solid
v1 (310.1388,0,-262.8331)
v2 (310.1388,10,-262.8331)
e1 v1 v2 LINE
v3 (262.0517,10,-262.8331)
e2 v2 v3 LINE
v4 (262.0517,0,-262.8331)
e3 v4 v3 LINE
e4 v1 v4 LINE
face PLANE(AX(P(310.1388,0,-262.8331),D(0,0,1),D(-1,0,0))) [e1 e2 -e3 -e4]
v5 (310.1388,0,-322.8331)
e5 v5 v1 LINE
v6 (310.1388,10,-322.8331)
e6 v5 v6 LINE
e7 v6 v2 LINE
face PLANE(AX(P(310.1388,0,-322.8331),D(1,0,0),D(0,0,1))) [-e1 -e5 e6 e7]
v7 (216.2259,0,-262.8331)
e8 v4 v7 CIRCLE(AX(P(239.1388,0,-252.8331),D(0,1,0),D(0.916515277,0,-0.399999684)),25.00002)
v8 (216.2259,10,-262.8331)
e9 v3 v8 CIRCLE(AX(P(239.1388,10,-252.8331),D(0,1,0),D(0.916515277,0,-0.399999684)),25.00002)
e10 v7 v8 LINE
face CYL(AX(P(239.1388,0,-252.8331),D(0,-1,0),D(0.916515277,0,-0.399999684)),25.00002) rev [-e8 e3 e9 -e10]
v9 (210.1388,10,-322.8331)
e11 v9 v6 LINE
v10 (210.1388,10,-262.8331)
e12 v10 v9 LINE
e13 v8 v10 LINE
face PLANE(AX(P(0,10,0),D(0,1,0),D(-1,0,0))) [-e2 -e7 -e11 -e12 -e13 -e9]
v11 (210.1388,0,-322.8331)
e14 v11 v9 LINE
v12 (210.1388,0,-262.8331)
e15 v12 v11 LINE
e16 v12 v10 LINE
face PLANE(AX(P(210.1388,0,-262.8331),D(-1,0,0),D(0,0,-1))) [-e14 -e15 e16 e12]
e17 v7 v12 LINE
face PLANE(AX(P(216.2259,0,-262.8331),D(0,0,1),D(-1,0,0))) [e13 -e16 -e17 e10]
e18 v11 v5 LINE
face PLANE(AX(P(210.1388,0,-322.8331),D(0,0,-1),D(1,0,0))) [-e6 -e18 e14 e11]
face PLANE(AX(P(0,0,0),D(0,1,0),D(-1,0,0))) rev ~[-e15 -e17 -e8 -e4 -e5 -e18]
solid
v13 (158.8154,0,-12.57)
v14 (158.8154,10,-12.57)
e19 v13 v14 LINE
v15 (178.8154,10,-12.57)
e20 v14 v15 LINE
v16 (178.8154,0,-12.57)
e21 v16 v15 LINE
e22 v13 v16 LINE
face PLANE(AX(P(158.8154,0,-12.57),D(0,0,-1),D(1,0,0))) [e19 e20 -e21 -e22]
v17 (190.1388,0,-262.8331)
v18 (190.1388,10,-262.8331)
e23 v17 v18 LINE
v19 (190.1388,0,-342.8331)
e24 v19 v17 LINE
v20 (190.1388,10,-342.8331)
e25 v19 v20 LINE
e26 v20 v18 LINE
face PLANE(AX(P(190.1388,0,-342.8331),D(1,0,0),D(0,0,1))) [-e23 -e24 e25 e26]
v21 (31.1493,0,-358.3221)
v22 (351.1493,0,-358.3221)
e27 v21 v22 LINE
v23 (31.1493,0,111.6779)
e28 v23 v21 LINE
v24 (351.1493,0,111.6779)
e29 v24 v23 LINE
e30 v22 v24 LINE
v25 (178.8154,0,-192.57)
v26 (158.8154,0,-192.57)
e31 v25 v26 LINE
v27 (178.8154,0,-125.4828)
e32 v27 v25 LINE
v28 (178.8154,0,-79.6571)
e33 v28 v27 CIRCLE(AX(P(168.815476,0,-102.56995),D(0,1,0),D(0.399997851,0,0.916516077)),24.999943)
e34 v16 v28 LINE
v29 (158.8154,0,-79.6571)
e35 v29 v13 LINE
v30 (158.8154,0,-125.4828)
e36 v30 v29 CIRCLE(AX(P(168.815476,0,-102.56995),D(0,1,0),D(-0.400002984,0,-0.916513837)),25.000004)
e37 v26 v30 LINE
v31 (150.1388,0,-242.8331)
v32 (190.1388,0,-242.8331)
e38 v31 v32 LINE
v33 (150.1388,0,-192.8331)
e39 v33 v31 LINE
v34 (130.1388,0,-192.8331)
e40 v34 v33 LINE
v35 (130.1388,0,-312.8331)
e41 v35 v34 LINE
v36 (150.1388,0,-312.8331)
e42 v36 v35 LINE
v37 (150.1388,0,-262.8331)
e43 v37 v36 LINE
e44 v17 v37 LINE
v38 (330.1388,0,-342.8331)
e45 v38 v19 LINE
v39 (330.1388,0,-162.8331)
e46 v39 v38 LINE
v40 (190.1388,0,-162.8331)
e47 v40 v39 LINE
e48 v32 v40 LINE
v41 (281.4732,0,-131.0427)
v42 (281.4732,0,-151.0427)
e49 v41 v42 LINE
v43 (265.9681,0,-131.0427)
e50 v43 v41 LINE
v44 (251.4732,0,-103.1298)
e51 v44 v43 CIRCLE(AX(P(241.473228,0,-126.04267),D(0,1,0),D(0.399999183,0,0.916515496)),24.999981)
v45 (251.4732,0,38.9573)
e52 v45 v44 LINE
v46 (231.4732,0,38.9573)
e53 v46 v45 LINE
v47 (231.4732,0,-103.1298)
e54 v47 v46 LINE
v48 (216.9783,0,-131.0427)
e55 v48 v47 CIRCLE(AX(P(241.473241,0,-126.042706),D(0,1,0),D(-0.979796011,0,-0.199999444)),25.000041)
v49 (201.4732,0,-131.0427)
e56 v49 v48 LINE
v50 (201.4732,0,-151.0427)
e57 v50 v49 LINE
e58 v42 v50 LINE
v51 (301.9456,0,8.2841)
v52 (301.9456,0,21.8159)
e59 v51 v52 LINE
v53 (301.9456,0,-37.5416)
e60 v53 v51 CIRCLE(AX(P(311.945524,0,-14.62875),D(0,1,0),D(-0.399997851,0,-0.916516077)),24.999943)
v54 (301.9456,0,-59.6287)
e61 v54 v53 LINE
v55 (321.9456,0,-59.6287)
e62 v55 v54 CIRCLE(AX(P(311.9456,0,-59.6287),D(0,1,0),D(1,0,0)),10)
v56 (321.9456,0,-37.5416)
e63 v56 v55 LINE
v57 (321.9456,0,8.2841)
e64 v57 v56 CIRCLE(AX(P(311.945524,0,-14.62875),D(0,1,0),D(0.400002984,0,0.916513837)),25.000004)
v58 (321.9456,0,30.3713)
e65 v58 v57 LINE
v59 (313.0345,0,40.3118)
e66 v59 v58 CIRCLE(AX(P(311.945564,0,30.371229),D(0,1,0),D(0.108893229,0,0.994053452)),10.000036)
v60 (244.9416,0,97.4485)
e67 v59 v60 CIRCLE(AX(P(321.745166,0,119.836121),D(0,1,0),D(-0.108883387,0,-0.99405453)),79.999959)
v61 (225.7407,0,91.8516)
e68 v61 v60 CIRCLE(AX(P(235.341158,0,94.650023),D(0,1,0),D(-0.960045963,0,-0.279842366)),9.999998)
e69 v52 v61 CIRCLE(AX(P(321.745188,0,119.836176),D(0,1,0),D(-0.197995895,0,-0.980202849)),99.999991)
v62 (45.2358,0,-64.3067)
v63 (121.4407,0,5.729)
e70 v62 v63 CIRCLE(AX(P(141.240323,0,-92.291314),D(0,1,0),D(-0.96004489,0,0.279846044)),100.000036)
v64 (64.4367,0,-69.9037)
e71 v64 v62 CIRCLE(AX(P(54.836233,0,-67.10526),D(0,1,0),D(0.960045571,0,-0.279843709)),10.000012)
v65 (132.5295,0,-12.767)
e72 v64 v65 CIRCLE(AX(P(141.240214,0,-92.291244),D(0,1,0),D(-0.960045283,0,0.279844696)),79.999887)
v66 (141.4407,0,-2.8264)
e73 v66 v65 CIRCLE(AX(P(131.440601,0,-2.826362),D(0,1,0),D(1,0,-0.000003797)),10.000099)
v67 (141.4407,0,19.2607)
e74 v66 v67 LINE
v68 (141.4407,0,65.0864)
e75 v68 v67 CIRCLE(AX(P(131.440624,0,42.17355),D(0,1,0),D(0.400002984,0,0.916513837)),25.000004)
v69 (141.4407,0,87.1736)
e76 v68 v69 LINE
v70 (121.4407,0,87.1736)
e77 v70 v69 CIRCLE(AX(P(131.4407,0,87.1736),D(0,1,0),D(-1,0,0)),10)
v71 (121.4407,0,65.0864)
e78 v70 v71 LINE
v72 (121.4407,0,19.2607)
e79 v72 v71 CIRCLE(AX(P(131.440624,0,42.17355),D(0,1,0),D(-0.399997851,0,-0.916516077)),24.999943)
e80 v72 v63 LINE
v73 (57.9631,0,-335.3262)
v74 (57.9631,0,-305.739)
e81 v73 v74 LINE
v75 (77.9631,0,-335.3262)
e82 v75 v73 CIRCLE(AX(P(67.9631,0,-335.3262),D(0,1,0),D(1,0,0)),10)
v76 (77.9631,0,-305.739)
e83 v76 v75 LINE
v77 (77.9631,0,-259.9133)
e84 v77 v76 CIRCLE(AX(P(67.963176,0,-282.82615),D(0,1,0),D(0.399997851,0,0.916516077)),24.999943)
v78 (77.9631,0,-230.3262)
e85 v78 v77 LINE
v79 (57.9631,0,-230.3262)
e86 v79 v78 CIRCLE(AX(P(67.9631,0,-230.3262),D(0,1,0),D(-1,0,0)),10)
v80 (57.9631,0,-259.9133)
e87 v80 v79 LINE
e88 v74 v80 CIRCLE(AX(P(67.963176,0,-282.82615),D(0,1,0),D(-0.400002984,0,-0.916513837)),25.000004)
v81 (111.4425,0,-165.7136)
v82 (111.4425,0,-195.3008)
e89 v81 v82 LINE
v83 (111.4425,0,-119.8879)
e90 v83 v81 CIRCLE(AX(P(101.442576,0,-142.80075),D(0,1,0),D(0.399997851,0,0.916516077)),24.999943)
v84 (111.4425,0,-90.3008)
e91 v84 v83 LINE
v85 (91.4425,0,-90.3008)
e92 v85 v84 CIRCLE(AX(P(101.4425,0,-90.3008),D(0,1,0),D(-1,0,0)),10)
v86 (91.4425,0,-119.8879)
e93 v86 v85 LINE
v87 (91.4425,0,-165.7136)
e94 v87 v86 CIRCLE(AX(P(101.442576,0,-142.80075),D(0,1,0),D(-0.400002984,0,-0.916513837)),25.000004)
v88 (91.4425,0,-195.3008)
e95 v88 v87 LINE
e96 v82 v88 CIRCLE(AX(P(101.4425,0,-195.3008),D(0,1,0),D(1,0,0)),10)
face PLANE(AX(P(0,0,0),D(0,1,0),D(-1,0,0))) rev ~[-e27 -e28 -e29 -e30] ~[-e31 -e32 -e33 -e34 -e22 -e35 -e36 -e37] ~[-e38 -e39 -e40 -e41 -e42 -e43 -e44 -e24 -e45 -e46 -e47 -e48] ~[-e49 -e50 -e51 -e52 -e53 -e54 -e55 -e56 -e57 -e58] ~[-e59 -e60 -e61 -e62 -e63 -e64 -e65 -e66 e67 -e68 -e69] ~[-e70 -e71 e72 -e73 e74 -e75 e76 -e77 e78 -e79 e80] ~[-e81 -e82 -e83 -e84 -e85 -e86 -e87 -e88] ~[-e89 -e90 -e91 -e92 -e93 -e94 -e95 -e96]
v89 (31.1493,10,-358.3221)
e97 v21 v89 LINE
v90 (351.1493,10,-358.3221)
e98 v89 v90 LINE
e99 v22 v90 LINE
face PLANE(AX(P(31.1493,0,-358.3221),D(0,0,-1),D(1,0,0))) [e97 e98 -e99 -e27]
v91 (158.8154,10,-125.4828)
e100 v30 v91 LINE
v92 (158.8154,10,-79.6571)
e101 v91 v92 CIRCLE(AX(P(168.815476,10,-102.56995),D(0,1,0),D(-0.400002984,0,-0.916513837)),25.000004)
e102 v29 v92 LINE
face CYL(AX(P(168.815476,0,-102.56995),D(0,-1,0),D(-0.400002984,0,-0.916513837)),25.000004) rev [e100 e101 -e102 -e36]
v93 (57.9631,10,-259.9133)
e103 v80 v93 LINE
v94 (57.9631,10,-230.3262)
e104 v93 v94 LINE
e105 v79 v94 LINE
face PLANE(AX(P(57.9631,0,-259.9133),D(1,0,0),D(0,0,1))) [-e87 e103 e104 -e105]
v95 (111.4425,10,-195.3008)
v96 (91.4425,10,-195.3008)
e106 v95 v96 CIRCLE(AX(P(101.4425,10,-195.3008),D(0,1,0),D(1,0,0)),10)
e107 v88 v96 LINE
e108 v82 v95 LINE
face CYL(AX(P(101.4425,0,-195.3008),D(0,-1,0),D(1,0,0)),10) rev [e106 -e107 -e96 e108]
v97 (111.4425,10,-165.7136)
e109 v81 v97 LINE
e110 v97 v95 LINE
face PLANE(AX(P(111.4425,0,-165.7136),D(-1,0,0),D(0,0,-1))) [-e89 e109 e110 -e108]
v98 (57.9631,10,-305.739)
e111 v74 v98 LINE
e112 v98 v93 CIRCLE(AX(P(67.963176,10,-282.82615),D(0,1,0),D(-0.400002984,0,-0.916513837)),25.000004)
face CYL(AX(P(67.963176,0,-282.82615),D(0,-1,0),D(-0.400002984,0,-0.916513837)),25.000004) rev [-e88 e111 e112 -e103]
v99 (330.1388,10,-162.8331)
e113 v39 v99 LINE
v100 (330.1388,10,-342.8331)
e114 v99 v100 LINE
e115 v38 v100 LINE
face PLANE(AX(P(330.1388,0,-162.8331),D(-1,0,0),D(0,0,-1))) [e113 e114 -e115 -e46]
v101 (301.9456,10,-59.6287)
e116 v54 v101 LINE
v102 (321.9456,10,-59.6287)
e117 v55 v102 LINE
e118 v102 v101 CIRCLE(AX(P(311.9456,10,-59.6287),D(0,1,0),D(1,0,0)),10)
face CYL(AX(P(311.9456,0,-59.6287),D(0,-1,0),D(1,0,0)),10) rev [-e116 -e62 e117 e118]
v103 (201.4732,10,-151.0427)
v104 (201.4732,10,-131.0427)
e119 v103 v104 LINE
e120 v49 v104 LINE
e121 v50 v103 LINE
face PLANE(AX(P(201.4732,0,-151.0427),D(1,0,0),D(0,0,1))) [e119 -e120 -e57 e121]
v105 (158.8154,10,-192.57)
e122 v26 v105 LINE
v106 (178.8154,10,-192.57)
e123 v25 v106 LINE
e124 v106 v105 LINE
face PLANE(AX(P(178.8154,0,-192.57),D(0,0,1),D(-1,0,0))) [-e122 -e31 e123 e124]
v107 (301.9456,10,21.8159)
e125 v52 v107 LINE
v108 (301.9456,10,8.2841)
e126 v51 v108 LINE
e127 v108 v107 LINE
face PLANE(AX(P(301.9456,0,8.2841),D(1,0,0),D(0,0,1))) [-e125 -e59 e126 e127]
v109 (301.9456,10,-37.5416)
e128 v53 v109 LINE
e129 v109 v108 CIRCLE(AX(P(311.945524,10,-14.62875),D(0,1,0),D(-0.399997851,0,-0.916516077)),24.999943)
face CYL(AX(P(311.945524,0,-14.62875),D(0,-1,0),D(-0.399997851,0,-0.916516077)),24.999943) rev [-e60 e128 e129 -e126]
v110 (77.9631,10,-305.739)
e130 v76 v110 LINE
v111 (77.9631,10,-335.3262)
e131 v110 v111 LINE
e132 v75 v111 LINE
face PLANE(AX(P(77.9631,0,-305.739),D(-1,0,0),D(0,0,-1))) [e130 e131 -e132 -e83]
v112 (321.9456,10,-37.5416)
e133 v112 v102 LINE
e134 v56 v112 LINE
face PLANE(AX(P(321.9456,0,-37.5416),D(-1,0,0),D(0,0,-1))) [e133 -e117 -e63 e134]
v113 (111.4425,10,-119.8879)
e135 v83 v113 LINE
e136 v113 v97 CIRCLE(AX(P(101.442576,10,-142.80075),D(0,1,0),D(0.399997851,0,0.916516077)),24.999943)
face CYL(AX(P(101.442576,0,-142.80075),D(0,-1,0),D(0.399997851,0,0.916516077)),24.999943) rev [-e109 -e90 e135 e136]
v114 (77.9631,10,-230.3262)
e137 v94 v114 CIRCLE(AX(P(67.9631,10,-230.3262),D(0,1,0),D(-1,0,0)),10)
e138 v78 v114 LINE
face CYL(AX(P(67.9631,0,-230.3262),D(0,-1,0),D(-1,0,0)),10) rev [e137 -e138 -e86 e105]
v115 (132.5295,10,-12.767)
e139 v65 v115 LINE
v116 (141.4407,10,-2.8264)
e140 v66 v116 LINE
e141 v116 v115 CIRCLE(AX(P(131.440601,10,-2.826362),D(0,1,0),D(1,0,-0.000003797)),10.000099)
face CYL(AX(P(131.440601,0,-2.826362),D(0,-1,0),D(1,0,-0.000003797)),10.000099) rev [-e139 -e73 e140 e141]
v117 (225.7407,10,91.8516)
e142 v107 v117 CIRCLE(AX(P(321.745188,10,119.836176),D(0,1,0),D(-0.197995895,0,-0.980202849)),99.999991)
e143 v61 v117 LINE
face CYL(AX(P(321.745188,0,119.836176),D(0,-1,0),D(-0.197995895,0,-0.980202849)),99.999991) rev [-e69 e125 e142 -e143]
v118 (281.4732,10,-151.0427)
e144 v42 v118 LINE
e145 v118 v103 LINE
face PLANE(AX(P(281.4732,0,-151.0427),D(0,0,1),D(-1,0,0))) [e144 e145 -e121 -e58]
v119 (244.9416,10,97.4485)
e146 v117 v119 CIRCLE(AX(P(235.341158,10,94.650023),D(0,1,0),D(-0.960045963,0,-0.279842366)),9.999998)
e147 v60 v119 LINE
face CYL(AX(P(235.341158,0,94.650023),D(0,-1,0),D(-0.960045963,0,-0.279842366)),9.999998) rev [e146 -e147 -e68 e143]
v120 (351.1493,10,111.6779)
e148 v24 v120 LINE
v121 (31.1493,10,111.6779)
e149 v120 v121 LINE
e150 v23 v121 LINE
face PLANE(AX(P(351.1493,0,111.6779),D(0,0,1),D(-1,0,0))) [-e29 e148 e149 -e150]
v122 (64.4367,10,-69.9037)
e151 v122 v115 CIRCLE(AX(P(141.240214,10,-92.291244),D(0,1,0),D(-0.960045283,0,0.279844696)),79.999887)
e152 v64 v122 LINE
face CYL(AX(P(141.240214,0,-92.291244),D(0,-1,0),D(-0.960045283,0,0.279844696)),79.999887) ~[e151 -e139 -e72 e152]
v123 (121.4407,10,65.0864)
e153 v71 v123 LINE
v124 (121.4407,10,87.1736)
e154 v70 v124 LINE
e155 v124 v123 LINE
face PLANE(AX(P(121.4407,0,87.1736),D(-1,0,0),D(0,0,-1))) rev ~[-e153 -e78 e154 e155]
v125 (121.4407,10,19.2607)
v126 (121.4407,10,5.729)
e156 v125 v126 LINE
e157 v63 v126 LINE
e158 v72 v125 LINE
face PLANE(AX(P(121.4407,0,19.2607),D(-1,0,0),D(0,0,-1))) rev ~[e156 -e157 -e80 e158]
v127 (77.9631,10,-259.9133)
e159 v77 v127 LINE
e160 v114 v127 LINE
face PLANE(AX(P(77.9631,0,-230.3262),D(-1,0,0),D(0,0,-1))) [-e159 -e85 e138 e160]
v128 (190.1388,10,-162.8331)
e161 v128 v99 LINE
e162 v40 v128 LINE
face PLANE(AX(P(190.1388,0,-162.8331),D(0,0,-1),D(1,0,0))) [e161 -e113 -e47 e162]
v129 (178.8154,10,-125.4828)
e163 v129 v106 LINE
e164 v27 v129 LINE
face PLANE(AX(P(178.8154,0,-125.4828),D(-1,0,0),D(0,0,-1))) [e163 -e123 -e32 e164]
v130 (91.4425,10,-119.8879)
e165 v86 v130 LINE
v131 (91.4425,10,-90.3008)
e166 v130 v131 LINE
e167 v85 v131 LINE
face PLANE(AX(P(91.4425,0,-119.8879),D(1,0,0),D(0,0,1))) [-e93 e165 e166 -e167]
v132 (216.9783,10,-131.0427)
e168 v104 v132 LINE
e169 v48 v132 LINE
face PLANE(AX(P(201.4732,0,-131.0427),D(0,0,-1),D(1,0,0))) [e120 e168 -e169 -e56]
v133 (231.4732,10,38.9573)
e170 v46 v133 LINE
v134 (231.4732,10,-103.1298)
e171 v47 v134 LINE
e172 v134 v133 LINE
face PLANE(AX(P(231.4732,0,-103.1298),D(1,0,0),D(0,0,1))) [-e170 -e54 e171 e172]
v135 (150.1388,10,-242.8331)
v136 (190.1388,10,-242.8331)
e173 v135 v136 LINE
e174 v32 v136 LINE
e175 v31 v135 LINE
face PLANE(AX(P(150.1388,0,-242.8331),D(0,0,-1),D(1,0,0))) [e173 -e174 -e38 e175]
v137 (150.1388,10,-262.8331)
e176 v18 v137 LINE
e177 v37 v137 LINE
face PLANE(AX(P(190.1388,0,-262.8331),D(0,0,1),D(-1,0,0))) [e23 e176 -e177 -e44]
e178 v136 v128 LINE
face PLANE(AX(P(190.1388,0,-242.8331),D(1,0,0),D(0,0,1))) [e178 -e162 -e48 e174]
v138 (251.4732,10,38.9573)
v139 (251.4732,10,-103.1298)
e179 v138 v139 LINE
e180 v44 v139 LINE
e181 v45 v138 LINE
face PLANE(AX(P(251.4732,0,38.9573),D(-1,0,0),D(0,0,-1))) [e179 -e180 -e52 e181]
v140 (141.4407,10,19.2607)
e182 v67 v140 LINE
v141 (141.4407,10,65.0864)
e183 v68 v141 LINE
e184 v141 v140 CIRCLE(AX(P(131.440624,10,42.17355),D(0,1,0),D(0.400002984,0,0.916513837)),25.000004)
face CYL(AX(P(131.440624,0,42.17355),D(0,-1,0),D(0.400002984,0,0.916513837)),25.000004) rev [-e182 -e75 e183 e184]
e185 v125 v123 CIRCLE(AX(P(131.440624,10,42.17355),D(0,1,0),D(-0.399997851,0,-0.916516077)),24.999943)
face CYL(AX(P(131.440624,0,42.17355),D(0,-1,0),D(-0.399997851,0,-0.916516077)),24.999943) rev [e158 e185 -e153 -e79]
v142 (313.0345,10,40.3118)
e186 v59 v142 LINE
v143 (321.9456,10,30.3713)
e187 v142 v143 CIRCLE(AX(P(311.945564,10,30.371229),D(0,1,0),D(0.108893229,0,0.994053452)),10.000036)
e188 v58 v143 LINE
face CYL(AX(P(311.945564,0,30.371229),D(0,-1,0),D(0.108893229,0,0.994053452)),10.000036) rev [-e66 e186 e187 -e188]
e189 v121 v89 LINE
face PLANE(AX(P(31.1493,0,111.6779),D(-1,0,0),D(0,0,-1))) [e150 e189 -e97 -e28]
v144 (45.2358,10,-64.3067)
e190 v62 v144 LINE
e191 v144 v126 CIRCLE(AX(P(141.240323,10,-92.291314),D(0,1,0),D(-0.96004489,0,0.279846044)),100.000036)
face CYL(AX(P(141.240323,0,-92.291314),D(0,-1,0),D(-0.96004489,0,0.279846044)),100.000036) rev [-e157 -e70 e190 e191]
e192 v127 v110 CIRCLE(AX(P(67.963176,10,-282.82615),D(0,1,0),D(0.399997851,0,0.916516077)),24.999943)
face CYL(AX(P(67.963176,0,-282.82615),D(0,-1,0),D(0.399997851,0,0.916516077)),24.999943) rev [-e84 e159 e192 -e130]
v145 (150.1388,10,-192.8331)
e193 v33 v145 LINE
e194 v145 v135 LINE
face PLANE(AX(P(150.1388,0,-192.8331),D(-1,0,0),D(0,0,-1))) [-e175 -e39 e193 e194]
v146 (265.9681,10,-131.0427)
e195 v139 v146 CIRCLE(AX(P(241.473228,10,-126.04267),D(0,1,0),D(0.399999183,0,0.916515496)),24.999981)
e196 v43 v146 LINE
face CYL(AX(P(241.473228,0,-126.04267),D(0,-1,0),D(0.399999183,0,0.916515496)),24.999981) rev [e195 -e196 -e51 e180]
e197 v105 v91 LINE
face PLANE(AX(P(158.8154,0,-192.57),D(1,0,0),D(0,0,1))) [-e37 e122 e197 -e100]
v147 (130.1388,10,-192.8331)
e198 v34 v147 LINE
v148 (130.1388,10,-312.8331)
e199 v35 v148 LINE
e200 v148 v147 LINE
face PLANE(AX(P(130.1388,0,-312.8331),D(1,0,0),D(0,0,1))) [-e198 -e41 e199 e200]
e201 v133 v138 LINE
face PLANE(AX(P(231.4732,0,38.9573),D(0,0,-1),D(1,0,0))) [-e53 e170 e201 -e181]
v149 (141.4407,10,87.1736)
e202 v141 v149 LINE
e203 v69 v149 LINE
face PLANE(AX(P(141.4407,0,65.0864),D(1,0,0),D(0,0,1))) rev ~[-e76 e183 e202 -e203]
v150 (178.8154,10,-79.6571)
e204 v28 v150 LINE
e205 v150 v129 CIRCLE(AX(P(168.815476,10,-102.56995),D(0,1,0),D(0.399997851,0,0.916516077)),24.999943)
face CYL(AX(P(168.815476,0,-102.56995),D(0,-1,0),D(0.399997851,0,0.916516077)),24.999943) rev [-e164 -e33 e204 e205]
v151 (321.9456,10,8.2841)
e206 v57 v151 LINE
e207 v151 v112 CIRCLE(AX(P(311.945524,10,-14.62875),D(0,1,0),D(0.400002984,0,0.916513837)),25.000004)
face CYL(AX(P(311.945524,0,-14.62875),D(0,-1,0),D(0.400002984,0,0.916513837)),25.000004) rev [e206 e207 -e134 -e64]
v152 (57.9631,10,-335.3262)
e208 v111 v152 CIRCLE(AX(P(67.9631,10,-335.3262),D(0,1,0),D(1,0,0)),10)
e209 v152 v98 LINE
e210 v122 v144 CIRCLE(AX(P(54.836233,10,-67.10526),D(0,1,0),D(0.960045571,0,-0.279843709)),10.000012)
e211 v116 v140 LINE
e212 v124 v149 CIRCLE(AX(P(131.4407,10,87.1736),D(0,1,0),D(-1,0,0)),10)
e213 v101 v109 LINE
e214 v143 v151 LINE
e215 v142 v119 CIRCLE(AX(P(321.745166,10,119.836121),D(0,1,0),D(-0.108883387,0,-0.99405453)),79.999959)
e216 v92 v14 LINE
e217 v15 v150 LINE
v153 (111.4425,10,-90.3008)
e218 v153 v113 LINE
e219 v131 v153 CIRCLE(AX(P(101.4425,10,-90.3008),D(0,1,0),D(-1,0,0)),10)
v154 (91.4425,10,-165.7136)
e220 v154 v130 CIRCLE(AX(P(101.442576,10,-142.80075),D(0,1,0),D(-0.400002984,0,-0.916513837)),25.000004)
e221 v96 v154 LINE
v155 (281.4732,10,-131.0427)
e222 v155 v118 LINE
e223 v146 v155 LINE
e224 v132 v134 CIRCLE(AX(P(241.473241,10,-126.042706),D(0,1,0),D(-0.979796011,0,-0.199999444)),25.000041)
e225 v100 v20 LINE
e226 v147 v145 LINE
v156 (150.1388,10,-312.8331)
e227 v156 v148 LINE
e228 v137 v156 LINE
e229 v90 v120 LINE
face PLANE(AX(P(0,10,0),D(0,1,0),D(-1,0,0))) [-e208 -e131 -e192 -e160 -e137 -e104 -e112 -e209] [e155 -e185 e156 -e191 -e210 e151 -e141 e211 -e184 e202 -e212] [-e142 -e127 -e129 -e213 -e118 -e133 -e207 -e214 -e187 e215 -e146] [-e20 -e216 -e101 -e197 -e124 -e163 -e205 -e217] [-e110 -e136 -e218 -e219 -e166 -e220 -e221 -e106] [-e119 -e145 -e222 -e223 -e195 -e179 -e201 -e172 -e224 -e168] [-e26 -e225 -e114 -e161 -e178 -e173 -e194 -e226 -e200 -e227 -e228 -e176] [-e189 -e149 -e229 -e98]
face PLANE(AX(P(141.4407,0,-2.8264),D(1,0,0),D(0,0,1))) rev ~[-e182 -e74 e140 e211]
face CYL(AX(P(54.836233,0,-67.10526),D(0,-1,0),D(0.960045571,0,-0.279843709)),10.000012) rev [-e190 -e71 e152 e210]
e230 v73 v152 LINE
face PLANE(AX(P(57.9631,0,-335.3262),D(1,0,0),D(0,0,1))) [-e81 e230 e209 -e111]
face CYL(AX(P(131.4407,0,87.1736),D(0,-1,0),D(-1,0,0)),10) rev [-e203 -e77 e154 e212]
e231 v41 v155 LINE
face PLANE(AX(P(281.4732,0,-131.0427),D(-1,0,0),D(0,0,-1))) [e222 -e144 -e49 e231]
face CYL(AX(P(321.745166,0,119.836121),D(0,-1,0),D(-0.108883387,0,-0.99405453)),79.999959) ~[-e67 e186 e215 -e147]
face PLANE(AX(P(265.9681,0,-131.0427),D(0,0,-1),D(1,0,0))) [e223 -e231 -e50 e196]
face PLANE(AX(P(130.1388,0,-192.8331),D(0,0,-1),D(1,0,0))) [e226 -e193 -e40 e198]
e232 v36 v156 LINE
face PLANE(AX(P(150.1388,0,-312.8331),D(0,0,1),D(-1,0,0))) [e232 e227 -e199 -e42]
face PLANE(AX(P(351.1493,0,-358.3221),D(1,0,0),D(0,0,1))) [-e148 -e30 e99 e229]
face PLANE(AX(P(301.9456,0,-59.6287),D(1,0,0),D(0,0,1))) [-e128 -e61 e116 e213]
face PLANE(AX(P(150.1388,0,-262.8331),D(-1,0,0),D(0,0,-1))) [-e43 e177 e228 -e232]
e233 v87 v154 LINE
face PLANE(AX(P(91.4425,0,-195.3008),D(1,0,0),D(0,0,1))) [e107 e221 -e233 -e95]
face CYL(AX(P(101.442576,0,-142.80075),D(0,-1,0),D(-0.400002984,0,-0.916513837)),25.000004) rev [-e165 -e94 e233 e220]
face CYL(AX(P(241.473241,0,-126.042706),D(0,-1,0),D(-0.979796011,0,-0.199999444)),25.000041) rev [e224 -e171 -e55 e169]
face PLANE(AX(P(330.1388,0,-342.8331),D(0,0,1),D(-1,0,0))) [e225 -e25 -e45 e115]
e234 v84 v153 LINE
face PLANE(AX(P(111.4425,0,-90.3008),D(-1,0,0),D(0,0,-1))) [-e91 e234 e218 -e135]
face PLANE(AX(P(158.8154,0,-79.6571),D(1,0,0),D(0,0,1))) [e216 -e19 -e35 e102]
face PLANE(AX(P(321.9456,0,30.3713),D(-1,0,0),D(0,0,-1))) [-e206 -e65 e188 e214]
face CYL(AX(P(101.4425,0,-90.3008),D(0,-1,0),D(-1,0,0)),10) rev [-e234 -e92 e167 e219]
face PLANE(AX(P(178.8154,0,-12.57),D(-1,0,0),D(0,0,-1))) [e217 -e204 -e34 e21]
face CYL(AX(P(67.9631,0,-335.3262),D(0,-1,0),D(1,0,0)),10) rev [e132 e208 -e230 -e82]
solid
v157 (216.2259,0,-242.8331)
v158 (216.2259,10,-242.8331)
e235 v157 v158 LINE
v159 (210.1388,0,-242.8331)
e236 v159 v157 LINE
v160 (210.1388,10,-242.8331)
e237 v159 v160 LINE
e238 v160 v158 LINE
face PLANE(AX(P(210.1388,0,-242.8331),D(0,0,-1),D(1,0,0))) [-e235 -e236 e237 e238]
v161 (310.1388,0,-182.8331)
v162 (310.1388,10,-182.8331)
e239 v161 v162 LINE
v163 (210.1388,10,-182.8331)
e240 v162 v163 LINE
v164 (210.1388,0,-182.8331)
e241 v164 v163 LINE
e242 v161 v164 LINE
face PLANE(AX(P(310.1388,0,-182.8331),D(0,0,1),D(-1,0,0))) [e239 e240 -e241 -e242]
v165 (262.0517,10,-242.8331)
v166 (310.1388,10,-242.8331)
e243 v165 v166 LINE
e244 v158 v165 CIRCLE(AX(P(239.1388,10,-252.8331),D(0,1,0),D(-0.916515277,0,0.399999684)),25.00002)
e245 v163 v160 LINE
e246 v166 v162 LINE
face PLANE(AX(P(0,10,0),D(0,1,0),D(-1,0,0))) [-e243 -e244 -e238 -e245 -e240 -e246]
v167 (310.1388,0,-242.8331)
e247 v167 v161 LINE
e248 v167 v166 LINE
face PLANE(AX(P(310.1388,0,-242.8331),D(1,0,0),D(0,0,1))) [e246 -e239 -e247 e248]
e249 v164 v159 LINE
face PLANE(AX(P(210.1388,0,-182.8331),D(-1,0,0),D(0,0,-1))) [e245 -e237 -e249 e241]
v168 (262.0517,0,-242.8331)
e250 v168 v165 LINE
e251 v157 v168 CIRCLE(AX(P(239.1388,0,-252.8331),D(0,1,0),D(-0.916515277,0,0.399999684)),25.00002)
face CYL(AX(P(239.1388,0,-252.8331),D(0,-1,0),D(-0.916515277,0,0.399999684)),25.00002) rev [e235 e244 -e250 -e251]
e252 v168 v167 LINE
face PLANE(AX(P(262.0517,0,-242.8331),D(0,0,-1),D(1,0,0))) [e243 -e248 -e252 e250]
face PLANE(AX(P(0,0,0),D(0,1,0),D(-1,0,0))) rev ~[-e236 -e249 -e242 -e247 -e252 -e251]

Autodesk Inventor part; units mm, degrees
ref_plane "YZ Plane" through (0, 0, 0) normal (1, 0, 0) x (0, 1, 0)
ref_plane "XZ Plane" through (0, 0, 0) normal (0, 1, 0) x (-1, 0, 0)
ref_plane "XY Plane" through (0, 0, 0) normal (0, 0, 1) x (1, 0, 0)
sketch "Boceto1" plane through (0, 0, 0) normal (0, 1, 0) x (-1, 0, 0)
  line L0 (-351.1493, 111.6779) -> (-31.1493, 111.6779) projected
  line L1 (-351.1493, -358.3221) -> (-351.1493, 111.6779) projected
  line L2 (-31.1493, -358.3221) -> (-351.1493, -358.3221) projected
  line L3 (-31.1493, 111.6779) -> (-31.1493, -358.3221) projected
  line L4 (-91.4425, -195.3008) -> (-91.4425, -165.7136) projected
  arc A0 (-111.4425, -195.3008) -> (-91.4425, -195.3008) centre (-101.4425, -195.3008) ccw projected
  line L5 (-111.4425, -165.7136) -> (-111.4425, -195.3008) projected
  arc A1 (-111.4425, -119.8879) -> (-111.4425, -165.7136) centre (-101.4425, -142.8008) ccw projected
  line L6 (-111.4425, -90.3008) -> (-111.4425, -119.8879) projected
  arc A2 (-91.4425, -90.3008) -> (-111.4425, -90.3008) centre (-101.4425, -90.3008) ccw projected
  line L7 (-91.4425, -119.8879) -> (-91.4425, -90.3008) projected
  arc A3 (-91.4425, -165.7136) -> (-91.4425, -119.8879) centre (-101.4425, -142.8008) ccw projected
  circle A4 centre (-101.4425, -90.3008) radius 4 projected
  circle A5 centre (-101.4425, -195.3008) radius 4 projected
  line L8 (-57.9631, -335.3262) -> (-57.9631, -305.739) projected
  arc A6 (-77.9631, -335.3262) -> (-57.9631, -335.3262) centre (-67.9631, -335.3262) ccw projected
  line L9 (-77.9631, -305.739) -> (-77.9631, -335.3262) projected
  arc A7 (-77.9631, -259.9133) -> (-77.9631, -305.739) centre (-67.9631, -282.8262) ccw projected
  line L10 (-77.9631, -230.3262) -> (-77.9631, -259.9133) projected
  arc A8 (-57.9631, -230.3262) -> (-77.9631, -230.3262) centre (-67.9631, -230.3262) ccw projected
  line L11 (-57.9631, -259.9133) -> (-57.9631, -230.3262) projected
  arc A9 (-57.9631, -305.739) -> (-57.9631, -259.9133) centre (-67.9631, -282.8262) ccw projected
  circle A10 centre (-67.9631, -230.3262) radius 4 projected
  circle A11 centre (-67.9631, -335.3262) radius 4 projected
  circle A12 centre (-320.1388, -332.8331) radius 4 projected
  circle A13 centre (-320.1388, -172.8331) radius 4 projected
  line L12 (-150.1388, -312.8331) -> (-130.1388, -312.8331) projected
  line L13 (-150.1388, -262.8331) -> (-150.1388, -312.8331) projected
  line L14 (-190.1388, -262.8331) -> (-150.1388, -262.8331) projected
  line L15 (-190.1388, -342.8331) -> (-190.1388, -262.8331) projected
  line L16 (-330.1388, -342.8331) -> (-190.1388, -342.8331) projected
  line L17 (-330.1388, -162.8331) -> (-330.1388, -342.8331) projected
  line L18 (-190.1388, -162.8331) -> (-330.1388, -162.8331) projected
  line L19 (-190.1388, -242.8331) -> (-190.1388, -162.8331) projected
  line L20 (-150.1388, -242.8331) -> (-190.1388, -242.8331) projected
  line L21 (-150.1388, -192.8331) -> (-150.1388, -242.8331) projected
  line L22 (-130.1388, -192.8331) -> (-150.1388, -192.8331) projected
  line L23 (-130.1388, -312.8331) -> (-130.1388, -192.8331) projected
  circle A14 centre (-140.1388, -303.8331) radius 4 projected
  circle A15 centre (-140.1388, -201.8331) radius 4 projected
  line L24 (-210.1388, -262.8331) -> (-210.1388, -322.8331) projected
  line L25 (-216.2259, -262.8331) -> (-210.1388, -262.8331) projected
  arc A16 (-262.0517, -262.8331) -> (-216.2259, -262.8331) centre (-239.1388, -252.8331) ccw projected
  line L26 (-310.1388, -262.8331) -> (-262.0517, -262.8331) projected
  line L27 (-310.1388, -322.8331) -> (-310.1388, -262.8331) projected
  line L28 (-210.1388, -322.8331) -> (-310.1388, -322.8331) projected
  line L29 (-210.1388, -242.8331) -> (-216.2259, -242.8331) projected
  line L30 (-210.1388, -182.8331) -> (-210.1388, -242.8331) projected
  line L31 (-310.1388, -182.8331) -> (-210.1388, -182.8331) projected
  line L32 (-310.1388, -242.8331) -> (-310.1388, -182.8331) projected
  line L33 (-262.0517, -242.8331) -> (-310.1388, -242.8331) projected
  arc A17 (-216.2259, -242.8331) -> (-262.0517, -242.8331) centre (-239.1388, -252.8331) ccw projected
  line L34 (-265.9681, -131.0427) -> (-281.4732, -131.0427) projected
  arc A18 (-251.4732, -103.1298) -> (-265.9681, -131.0427) centre (-241.4732, -126.0427) ccw projected
  line L35 (-251.4732, 38.9573) -> (-251.4732, -103.1298) projected
  line L36 (-231.4732, 38.9573) -> (-251.4732, 38.9573) projected
  line L37 (-231.4732, -103.1298) -> (-231.4732, 38.9573) projected
  arc A19 (-216.9783, -131.0427) -> (-231.4732, -103.1298) centre (-241.4732, -126.0427) ccw projected
  line L38 (-201.4732, -131.0427) -> (-216.9783, -131.0427) projected
  line L39 (-201.4732, -151.0427) -> (-201.4732, -131.0427) projected
  line L40 (-281.4732, -151.0427) -> (-201.4732, -151.0427) projected
  line L41 (-281.4732, -131.0427) -> (-281.4732, -151.0427) projected
  circle A20 centre (-207.4732, -141.0427) radius 4 projected
  circle A21 centre (-275.4732, -141.0427) radius 4 projected
  circle A22 centre (-168.8154, -182.57) radius 4 projected
  line L42 (-178.8154, -12.57) -> (-178.8154, -79.6571) projected
  line L43 (-158.8154, -12.57) -> (-178.8154, -12.57) projected
  line L44 (-158.8154, -79.6571) -> (-158.8154, -12.57) projected
  arc A23 (-158.8154, -125.4828) -> (-158.8154, -79.6571) centre (-168.8154, -102.57) ccw projected
  line L45 (-158.8154, -192.57) -> (-158.8154, -125.4828) projected
  line L46 (-178.8154, -192.57) -> (-158.8154, -192.57) projected
  line L47 (-178.8154, -125.4828) -> (-178.8154, -192.57) projected
  arc A24 (-178.8154, -79.6571) -> (-178.8154, -125.4828) centre (-168.8154, -102.57) ccw projected
  circle A25 centre (-168.8154, -22.57) radius 4 projected
  line L48 (-141.4407, -2.8264) -> (-141.4407, 19.2607) projected
  arc A26 (-141.4407, 65.0864) -> (-141.4407, 19.2607) centre (-131.4407, 42.1736) ccw projected
  line L49 (-141.4407, 65.0864) -> (-141.4407, 87.1736) projected
  arc A27 (-121.4407, 87.1736) -> (-141.4407, 87.1736) centre (-131.4407, 87.1736) ccw projected
  line L50 (-121.4407, 87.1736) -> (-121.4407, 65.0864) projected
  arc A28 (-121.4407, 19.2607) -> (-121.4407, 65.0864) centre (-131.4407, 42.1736) ccw projected
  line L51 (-121.4407, 19.2607) -> (-121.4407, 5.729) projected
  arc A29 (-45.2358, -64.3067) -> (-121.4407, 5.729) centre (-141.2403, -92.2913) ccw projected
  arc A30 (-64.4367, -69.9037) -> (-45.2358, -64.3067) centre (-54.8362, -67.1052) ccw projected
  arc A31 (-64.4367, -69.9037) -> (-132.5295, -12.767) centre (-141.2403, -92.2913) ccw projected
  arc A32 (-141.4407, -2.8264) -> (-132.5295, -12.767) centre (-131.4407, -2.8264) ccw projected
  circle A33 centre (-131.4407, 87.1736) radius 4 projected
  circle A34 centre (-131.4407, -2.8264) radius 4 projected
  line L52 (-321.9456, 30.3713) -> (-321.9456, 8.2841) projected
  arc A35 (-313.0345, 40.3118) -> (-321.9456, 30.3713) centre (-311.9456, 30.3713) ccw projected
  arc A36 (-313.0345, 40.3118) -> (-244.9416, 97.4485) centre (-321.7452, 119.8362) ccw projected
  arc A37 (-225.7407, 91.8516) -> (-244.9416, 97.4485) centre (-235.3412, 94.65) ccw projected
  arc A38 (-301.9456, 21.8159) -> (-225.7407, 91.8516) centre (-321.7452, 119.8362) ccw projected
  line L53 (-301.9456, 8.2841) -> (-301.9456, 21.8159) projected
  arc A39 (-301.9456, -37.5416) -> (-301.9456, 8.2841) centre (-311.9456, -14.6287) ccw projected
  line L54 (-301.9456, -59.6287) -> (-301.9456, -37.5416) projected
  arc A40 (-321.9456, -59.6287) -> (-301.9456, -59.6287) centre (-311.9456, -59.6287) ccw projected
  line L55 (-321.9456, -37.5416) -> (-321.9456, -59.6287) projected
  arc A41 (-321.9456, 8.2841) -> (-321.9456, -37.5416) centre (-311.9456, -14.6287) ccw projected
  circle A42 centre (-311.9456, -59.6287) radius 4 projected
  circle A43 centre (-311.9456, 30.3713) radius 4 projected
  point P0 (0, 0)
extrude "Extrusión1" add sketch "Boceto1" along normal blind 10 contours L0 L3 L2 L1 | L24 L28 L27 L26 A16 L25 | L29 A17 L33 L32 L31 L30
properties part number "PiezaACortarApoyoInicialV3_0"
